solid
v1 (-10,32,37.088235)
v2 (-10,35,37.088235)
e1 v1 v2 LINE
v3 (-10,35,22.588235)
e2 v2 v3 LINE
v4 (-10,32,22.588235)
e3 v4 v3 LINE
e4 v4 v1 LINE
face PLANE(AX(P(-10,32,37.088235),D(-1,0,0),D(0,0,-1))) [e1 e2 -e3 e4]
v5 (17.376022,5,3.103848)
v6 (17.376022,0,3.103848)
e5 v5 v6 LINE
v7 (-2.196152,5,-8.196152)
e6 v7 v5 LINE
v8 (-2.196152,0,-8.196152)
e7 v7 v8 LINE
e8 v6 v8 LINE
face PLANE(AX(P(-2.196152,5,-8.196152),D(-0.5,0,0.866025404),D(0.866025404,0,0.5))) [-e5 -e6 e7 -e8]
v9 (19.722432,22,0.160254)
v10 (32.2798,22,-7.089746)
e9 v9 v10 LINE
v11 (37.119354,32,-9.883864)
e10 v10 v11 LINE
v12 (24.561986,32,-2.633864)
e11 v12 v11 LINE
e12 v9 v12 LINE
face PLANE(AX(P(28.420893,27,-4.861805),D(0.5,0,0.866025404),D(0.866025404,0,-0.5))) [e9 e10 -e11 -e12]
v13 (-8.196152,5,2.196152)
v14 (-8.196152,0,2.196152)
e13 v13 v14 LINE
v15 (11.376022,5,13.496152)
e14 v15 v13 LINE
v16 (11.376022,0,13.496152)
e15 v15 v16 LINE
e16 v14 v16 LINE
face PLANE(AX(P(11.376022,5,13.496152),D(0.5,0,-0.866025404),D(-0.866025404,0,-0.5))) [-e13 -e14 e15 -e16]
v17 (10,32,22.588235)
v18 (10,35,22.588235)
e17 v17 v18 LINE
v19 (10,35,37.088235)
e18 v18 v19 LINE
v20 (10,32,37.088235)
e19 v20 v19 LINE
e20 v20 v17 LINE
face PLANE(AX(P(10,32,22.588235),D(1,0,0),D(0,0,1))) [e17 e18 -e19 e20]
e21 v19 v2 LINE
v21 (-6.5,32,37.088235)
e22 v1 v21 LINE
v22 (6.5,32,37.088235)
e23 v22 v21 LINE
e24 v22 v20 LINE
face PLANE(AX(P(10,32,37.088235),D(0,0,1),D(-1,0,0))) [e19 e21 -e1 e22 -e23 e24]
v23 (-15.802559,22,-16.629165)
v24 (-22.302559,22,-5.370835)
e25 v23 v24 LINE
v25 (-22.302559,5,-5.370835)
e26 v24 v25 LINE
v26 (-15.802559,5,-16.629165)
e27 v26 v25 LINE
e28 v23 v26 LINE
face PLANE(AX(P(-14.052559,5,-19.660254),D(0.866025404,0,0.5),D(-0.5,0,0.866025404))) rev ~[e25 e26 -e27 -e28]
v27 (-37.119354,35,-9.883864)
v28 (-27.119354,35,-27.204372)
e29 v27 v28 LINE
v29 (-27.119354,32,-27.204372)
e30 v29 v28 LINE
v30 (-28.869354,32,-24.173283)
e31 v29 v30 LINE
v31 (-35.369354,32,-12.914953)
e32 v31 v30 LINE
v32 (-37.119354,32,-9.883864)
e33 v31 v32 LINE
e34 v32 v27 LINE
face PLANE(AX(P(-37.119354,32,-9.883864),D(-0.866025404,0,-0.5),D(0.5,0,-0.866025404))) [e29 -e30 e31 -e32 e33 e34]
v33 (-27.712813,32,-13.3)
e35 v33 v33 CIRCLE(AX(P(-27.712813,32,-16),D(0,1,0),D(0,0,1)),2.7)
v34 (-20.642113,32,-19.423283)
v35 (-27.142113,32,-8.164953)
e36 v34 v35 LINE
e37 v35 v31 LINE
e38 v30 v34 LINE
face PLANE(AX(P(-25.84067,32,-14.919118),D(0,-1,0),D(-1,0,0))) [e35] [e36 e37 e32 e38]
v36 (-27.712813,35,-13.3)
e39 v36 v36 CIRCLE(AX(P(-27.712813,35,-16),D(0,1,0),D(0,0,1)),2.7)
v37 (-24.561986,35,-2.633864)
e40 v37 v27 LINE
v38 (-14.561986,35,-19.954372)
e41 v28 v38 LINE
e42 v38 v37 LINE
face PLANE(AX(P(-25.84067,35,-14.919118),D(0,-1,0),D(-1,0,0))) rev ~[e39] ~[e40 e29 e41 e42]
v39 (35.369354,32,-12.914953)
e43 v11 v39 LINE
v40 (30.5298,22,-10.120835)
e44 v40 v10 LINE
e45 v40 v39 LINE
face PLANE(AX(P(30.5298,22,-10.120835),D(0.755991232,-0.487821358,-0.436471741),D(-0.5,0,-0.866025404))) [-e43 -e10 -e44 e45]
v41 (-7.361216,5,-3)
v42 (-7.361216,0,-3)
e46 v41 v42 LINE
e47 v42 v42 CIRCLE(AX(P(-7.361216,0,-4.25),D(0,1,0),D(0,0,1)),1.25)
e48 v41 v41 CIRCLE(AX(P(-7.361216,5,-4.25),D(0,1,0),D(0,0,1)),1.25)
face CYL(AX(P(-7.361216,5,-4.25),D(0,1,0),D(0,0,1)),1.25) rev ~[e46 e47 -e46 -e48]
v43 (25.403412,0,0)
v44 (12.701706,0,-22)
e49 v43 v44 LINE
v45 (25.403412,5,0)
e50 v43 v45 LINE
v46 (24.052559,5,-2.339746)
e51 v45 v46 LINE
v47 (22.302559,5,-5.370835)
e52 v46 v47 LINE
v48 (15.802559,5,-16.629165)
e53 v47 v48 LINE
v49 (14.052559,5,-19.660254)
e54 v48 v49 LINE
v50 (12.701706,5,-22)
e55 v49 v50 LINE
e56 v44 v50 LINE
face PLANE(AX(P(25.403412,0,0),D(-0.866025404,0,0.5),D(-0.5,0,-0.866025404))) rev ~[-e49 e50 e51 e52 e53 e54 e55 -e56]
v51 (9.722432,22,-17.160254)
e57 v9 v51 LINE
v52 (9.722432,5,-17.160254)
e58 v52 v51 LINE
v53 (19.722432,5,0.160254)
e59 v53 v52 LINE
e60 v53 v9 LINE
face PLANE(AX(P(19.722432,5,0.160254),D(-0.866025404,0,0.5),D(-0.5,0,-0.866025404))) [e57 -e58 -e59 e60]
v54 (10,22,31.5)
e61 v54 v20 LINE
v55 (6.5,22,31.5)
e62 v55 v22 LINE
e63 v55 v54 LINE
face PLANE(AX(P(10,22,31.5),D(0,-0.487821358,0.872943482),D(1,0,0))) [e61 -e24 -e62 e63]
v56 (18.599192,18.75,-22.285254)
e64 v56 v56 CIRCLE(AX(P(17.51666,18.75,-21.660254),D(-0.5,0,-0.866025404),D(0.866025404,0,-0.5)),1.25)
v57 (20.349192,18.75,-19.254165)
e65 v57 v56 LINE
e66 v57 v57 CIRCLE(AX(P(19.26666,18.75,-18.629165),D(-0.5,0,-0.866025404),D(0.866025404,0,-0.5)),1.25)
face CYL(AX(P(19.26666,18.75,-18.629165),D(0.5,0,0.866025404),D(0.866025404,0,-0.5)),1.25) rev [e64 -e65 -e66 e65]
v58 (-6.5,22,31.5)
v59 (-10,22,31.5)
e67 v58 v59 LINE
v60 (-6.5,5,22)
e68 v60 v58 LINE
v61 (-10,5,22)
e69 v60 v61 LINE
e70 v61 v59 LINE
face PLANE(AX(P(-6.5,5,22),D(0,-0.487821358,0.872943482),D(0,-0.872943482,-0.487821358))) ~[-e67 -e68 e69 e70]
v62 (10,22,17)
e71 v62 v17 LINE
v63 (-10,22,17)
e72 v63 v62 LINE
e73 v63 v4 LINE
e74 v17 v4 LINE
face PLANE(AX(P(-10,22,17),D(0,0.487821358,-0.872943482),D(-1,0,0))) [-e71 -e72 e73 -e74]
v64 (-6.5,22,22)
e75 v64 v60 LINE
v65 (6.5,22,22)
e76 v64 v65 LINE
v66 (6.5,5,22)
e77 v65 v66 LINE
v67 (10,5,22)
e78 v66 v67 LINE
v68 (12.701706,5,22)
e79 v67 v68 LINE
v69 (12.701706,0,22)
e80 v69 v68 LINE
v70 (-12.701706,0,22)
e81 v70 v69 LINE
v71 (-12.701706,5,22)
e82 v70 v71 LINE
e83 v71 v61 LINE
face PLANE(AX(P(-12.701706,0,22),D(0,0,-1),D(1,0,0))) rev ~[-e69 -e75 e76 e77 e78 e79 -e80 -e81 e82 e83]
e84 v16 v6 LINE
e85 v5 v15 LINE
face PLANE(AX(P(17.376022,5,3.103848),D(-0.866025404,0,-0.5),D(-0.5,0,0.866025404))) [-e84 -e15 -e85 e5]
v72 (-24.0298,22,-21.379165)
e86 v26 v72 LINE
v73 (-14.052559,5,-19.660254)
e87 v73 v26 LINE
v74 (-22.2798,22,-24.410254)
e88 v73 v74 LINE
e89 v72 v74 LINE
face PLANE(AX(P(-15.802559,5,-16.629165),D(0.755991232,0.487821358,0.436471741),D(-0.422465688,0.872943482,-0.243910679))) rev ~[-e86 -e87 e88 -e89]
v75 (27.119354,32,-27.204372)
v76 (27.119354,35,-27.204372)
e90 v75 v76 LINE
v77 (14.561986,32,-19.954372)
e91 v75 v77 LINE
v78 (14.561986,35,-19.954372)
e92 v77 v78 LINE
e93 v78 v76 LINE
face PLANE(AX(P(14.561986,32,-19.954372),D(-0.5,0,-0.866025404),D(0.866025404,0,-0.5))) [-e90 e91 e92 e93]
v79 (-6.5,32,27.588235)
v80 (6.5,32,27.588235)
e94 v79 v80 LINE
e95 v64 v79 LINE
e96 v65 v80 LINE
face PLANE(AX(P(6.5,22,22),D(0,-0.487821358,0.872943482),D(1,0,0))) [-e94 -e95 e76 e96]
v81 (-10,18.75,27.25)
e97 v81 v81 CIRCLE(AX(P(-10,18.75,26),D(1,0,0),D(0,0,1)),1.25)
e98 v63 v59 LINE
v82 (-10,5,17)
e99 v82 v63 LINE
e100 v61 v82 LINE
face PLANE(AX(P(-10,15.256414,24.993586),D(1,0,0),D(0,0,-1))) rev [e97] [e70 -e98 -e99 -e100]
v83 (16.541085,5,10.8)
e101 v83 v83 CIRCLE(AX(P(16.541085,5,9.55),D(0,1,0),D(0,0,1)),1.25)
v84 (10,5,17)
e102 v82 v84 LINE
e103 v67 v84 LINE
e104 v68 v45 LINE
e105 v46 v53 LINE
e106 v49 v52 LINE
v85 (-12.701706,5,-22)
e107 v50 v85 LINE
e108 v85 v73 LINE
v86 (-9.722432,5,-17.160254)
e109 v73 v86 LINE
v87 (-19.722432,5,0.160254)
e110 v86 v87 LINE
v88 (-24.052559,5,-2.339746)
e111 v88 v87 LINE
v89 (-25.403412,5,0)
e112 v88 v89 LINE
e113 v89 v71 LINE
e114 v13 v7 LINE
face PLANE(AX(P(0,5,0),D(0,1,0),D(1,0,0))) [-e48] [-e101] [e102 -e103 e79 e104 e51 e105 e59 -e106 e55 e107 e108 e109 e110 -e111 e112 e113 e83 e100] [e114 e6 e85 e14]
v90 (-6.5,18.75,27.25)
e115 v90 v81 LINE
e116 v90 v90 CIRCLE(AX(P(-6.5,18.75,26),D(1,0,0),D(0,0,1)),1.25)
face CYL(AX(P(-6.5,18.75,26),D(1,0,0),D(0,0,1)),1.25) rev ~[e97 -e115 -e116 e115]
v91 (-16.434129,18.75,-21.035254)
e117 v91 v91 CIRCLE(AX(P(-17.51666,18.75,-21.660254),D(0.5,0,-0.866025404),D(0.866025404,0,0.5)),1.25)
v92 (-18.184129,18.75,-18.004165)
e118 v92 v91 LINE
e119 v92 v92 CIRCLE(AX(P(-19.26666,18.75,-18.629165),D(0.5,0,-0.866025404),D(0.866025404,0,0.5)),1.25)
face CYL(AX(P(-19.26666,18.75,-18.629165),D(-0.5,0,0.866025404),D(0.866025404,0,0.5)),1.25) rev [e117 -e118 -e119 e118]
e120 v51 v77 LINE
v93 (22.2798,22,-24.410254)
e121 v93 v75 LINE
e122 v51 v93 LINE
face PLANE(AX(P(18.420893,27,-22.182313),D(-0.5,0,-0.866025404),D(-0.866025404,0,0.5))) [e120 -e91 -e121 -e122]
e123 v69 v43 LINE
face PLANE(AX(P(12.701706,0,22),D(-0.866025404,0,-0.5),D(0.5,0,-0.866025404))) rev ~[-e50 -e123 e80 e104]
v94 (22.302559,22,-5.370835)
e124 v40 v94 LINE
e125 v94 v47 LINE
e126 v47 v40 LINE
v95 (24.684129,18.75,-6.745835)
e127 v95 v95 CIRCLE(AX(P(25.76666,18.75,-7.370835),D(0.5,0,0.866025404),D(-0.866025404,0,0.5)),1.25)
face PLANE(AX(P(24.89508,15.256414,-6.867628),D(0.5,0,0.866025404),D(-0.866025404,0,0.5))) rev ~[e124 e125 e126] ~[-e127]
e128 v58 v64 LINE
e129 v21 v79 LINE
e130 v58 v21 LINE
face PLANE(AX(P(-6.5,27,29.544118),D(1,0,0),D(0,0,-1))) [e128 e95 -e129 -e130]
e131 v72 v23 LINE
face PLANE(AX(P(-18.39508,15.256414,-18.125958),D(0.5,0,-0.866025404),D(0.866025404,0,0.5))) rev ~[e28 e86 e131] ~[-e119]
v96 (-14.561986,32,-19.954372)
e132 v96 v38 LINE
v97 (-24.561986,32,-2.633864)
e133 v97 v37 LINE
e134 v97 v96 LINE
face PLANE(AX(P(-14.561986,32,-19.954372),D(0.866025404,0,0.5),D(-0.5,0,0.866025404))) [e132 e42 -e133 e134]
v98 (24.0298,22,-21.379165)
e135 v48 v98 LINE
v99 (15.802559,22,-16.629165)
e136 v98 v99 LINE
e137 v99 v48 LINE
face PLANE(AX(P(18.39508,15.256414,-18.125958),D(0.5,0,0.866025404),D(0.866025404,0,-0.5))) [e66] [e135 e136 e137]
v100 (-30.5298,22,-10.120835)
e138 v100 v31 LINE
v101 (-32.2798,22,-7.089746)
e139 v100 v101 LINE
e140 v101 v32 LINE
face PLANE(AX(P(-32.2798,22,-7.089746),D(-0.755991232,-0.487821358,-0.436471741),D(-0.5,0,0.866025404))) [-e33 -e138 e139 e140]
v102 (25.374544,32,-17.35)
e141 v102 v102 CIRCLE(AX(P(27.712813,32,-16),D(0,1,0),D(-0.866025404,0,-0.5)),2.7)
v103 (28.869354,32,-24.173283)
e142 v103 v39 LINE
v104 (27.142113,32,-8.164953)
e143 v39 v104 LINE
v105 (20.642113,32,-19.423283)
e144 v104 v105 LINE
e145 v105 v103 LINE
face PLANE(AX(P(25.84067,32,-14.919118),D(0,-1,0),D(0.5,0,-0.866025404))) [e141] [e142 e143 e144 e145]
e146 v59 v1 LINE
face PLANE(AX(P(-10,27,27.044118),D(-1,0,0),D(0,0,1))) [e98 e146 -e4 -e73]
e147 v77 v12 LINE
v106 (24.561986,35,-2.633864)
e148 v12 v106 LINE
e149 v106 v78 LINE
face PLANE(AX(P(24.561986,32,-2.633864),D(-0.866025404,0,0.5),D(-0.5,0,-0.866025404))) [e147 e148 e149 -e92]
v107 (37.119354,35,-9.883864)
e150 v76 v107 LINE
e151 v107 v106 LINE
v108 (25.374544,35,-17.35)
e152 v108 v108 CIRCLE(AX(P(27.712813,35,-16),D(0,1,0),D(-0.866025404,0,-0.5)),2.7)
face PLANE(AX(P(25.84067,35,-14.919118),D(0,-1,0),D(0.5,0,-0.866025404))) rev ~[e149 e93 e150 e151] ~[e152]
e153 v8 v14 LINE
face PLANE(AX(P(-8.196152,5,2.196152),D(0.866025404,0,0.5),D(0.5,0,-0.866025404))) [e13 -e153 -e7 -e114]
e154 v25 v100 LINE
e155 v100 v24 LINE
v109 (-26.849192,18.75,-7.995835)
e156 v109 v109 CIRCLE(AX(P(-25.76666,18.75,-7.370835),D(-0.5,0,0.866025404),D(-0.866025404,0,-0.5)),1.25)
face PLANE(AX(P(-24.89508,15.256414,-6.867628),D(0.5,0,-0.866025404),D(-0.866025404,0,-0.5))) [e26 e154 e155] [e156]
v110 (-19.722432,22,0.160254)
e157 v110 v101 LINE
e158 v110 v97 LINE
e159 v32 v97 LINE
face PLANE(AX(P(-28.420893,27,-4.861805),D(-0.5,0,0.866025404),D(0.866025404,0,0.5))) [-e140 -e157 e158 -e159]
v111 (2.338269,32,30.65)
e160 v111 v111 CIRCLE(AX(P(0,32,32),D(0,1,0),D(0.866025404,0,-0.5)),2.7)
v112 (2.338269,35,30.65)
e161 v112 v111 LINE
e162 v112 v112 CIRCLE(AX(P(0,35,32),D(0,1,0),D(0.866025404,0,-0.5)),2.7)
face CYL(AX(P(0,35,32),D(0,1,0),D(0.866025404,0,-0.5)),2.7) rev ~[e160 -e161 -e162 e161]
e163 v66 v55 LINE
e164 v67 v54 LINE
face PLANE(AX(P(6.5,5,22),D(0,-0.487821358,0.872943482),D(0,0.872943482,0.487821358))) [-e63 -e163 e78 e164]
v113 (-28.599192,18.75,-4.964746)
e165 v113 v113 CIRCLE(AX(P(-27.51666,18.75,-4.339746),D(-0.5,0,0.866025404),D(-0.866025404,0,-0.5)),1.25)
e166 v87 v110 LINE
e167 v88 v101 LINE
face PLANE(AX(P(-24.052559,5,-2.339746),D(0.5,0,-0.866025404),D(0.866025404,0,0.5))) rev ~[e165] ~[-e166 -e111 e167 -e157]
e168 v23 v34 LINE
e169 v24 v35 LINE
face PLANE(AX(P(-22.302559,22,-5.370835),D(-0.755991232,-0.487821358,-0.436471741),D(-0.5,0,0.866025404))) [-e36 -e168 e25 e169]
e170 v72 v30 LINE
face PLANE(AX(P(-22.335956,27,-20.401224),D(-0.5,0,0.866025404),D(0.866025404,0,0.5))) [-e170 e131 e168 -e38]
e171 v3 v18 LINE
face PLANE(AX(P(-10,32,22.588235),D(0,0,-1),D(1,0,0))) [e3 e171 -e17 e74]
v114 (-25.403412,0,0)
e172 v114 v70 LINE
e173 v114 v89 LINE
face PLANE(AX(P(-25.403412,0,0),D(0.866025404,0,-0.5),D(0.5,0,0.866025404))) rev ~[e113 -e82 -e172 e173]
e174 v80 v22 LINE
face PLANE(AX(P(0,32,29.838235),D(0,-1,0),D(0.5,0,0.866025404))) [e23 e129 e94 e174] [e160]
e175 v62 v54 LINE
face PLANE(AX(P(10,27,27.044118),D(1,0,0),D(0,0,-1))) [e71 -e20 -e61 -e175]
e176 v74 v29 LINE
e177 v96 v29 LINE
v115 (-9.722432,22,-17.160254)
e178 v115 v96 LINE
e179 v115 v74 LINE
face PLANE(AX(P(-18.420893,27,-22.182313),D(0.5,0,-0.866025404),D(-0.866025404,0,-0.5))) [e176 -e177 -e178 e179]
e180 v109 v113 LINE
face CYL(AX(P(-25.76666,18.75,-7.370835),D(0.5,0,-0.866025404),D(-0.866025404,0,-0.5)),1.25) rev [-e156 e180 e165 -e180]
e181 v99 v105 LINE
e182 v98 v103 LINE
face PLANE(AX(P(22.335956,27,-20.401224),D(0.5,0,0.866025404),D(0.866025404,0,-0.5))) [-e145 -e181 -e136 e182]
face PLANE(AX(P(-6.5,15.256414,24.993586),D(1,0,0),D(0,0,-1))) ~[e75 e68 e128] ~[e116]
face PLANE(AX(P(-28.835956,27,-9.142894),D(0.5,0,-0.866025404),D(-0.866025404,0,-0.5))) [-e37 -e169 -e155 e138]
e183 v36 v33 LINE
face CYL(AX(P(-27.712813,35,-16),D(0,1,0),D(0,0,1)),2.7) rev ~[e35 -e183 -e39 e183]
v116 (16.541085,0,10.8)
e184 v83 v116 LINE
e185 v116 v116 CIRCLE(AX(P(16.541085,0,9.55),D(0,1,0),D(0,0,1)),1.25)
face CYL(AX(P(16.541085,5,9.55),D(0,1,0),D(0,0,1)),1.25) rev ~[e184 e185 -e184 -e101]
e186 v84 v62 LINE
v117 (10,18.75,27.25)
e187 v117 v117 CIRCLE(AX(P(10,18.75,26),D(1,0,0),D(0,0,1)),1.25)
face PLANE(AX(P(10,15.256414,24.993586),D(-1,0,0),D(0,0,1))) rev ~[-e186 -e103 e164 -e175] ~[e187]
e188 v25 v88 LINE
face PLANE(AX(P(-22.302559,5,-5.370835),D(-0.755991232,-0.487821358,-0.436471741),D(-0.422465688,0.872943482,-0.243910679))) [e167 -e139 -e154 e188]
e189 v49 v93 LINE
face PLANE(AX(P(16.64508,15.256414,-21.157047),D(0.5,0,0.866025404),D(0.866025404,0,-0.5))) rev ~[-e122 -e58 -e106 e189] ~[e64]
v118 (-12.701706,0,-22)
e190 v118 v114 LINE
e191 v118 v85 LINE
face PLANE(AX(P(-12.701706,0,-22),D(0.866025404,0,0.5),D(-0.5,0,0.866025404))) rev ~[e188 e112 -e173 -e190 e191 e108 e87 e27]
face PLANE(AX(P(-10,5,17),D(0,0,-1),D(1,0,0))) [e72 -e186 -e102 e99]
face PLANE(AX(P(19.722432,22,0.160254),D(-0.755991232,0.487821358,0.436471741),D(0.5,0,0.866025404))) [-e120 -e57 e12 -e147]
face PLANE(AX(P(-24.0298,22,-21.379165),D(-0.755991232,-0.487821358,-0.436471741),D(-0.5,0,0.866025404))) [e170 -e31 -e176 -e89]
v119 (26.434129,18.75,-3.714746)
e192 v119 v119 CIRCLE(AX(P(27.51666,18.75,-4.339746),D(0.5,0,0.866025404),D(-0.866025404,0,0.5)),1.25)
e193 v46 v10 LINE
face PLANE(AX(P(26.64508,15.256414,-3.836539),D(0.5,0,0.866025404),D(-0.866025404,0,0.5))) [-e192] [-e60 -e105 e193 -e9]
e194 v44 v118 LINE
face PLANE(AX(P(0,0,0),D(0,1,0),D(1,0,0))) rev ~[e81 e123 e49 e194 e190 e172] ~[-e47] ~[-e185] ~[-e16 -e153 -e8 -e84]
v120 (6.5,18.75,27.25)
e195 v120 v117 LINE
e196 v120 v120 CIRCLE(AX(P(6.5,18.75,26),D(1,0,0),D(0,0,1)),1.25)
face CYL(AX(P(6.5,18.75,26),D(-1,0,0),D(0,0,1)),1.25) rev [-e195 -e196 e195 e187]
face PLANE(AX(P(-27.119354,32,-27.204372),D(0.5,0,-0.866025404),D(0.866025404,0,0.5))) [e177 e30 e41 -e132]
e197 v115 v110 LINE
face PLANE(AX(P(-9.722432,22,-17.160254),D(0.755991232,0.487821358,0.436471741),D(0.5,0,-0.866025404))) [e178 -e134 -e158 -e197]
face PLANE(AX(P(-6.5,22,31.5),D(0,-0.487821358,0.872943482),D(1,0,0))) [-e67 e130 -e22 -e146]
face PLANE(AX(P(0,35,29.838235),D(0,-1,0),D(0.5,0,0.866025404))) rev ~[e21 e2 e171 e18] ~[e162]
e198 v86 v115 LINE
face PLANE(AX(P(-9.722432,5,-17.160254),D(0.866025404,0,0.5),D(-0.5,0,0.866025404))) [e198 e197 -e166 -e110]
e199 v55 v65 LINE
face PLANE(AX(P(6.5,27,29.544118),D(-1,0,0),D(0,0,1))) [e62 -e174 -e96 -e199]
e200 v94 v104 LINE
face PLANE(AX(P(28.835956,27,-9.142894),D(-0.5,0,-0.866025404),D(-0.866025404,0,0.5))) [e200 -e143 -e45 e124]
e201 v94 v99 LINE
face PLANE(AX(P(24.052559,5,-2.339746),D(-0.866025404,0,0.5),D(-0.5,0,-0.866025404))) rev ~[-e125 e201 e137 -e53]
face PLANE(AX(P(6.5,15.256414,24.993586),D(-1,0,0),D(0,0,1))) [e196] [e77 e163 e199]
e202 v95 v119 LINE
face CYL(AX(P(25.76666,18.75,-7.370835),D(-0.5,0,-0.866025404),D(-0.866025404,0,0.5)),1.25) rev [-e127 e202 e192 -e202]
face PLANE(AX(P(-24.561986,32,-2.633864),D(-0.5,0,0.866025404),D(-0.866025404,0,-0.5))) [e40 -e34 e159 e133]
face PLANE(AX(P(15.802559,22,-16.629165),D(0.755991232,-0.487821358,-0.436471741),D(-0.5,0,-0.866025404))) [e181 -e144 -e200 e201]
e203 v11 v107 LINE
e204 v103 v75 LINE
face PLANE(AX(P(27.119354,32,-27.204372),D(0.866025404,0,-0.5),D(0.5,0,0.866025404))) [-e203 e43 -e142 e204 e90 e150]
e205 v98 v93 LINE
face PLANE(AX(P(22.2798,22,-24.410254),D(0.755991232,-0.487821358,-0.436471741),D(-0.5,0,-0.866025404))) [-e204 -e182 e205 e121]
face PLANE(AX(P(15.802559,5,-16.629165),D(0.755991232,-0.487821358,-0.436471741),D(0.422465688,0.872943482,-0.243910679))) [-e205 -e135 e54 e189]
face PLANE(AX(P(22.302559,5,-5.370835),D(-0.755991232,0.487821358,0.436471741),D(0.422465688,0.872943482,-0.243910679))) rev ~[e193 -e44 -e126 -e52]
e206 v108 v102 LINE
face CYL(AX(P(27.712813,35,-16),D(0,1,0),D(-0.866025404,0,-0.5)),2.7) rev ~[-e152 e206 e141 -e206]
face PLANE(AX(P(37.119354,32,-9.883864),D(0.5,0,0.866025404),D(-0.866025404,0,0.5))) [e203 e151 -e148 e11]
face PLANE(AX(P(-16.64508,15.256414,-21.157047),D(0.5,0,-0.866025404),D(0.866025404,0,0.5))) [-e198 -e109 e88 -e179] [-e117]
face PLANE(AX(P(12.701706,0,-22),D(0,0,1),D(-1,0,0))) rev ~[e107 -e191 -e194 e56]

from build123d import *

# Parameters (mm, degrees)
BOSS_EXTRUDE1_DEPTH         = 5
SKETCH4_W                   = 20
SKETCH4_H                   = 5
BOSS_EXTRUDE3_DEPTH         = 17
BOSS_EXTRUDE2_START         = 6.5
SKETCH2_R                   = 1.25
BOSS_EXTRUDE2_DEPTH         = 3.5
CIRPATTERN1_COUNT           = 3
CIRPATTERN1_COPY_1_SKETCH_W = 20
CIRPATTERN1_COPY_1_SKETCH_H = 5
CIRPATTERN1_COPY_1_DEPTH    = 17
CIRPATTERN1_COPY_2_SKETCH_W = 20
CIRPATTERN1_COPY_2_SKETCH_H = 5
CIRPATTERN1_COPY_2_DEPTH    = 17
CIRPATTERN1_START           = 6.5
CIRPATTERN1_COPY_3_SKETCH_R = 1.25
CIRPATTERN1_COPY_3_DEPTH    = 3.5
CIRPATTERN1_COPY_4_SKETCH_R = 1.25
CIRPATTERN1_COPY_4_DEPTH    = 3.5
CUT_EXTRUDE1_REACH          = 50.2
CUT_EXTRUDE2_REACH          = 50.2
SKETCH6_R                   = 1.25
BOSS_EXTRUDE4_DEPTH         = 3
CUT_EXTRUDE3_REACH          = 61.959
SKETCH13_R                  = 2.7
CIRPATTERN2_COUNT           = 3


with BuildPart() as part:
    # Sketch1 → Boss-Extrude1 (new body)
    with BuildSketch(Plane(origin=(0, 0, 0), x_dir=(1, 0, 0), z_dir=(0, 1, 0))):
        Polygon((25.403411844, 0), (12.701705922, 22), (-12.701705922, 22), (-25.403411844, 0), (-12.701705922, -22), (12.701705922, -22), align=None)
    extrude(amount=BOSS_EXTRUDE1_DEPTH)

    # Sketch4 → Boss-Extrude3 (add)
    with BuildSketch(Plane(origin=(0, 5, 0), x_dir=(1, 0, 0), z_dir=(0, 1, 0))):
        with Locations((0, -19.5)):
            Rectangle(SKETCH4_W, SKETCH4_H)
    boss_extrude3 = extrude(amount=BOSS_EXTRUDE3_DEPTH)

    # Sketch2 → Boss-Extrude2 (add)
    with BuildSketch(Plane(origin=(0, 0, 0), x_dir=(0, 0, -1), z_dir=(1, 0, 0)).offset(BOSS_EXTRUDE2_START)):
        Polygon((-22, 22), (-22, 5), (-31.5, 22), align=None)
        with Locations(Location((-26, 18.75, 0), (0, 0, 180))):
            Circle(SKETCH2_R, mode=Mode.SUBTRACT)
    boss_extrude2 = extrude(amount=BOSS_EXTRUDE2_DEPTH)

    # Mirror1: Boss-Extrude3, Boss-Extrude2 across plane
    add(boss_extrude3.mirror(Plane(origin=(0, 0, 0), x_dir=(0, 0, 1), z_dir=(1, 0, 0))))
    add(boss_extrude2.mirror(Plane(origin=(0, 0, 0), x_dir=(0, 0, 1), z_dir=(1, 0, 0))))

    # CirPattern1: Boss-Extrude3, Boss-Extrude2 ×3 about axis
    cirpattern1_axis = Axis((0, 0, 0), (0, 1, 0))
    add([boss_extrude3.rotate(cirpattern1_axis, i * 360 / CIRPATTERN1_COUNT) for i in range(1, CIRPATTERN1_COUNT)])
    add([boss_extrude2.rotate(cirpattern1_axis, i * 360 / CIRPATTERN1_COUNT) for i in range(1, CIRPATTERN1_COUNT)])

    # CirPattern1 copy 1 sketch → CirPattern1 copy 1 (add)
    with BuildSketch(Plane(origin=(0, 5, 0), x_dir=(0.4999999999999998, 0, 0.8660254037844387), z_dir=(0, 1, 0))):
        with Locations((0, 19.5)):
            Rectangle(CIRPATTERN1_COPY_1_SKETCH_W, CIRPATTERN1_COPY_1_SKETCH_H)
    extrude(amount=CIRPATTERN1_COPY_1_DEPTH)

    # CirPattern1 copy 2 sketch → CirPattern1 copy 2 (add)
    with BuildSketch(Plane(origin=(0, 5, 0), x_dir=(0.5000000000000004, 0, -0.8660254037844384), z_dir=(0, 1, 0))):
        with Locations((0, 19.5)):
            Rectangle(CIRPATTERN1_COPY_2_SKETCH_W, CIRPATTERN1_COPY_2_SKETCH_H)
    extrude(amount=CIRPATTERN1_COPY_2_DEPTH)

    # CirPattern1 copy 3 sketch → CirPattern1 copy 3 (add)
    with BuildSketch(Plane(origin=(0, 0, 0), x_dir=(-0.8660254037844387, 0, 0.4999999999999998), z_dir=(0.4999999999999998, 0, 0.8660254037844387)).offset(CIRPATTERN1_START)):
        Polygon((-22, -22), (-22, -5), (-31.5, -22), align=None)
        with Locations((-26, -18.75)):
            Circle(CIRPATTERN1_COPY_3_SKETCH_R, mode=Mode.SUBTRACT)
    extrude(amount=CIRPATTERN1_COPY_3_DEPTH)

    # CirPattern1 copy 4 sketch → CirPattern1 copy 4 (add)
    with BuildSketch(Plane(origin=(0, 0, 0), x_dir=(0.8660254037844384, 0, 0.5000000000000004), z_dir=(0.5000000000000004, 0, -0.8660254037844384)).offset(CIRPATTERN1_START)):
        Polygon((-22, -22), (-22, -5), (-31.5, -22), align=None)
        with Locations((-26, -18.75)):
            Circle(CIRPATTERN1_COPY_4_SKETCH_R, mode=Mode.SUBTRACT)
    extrude(amount=CIRPATTERN1_COPY_4_DEPTH)

    # Sketch3 → Cut-Extrude1 (cut, up to next)
    with BuildSketch(Plane(origin=(0, 5, 0), x_dir=(1, 0, 0), z_dir=(0, 1, 0)), mode=Mode.PRIVATE) as cut_extrude1_sk1:
        Polygon((-2.196152423, 8.196152423), (17.376021703, -3.103847577), (11.376021703, -13.496152423), (-8.196152423, -2.196152423), align=None)
    cut_extrude1_tool1 = extrude(cut_extrude1_sk1.sketch, amount=-CUT_EXTRUDE1_REACH, mode=Mode.PRIVATE) & part.part
    add(cut_extrude1_tool1.solids().sort_by_distance((4.589935, 5, 2.65))[0], mode=Mode.SUBTRACT)

    # Sketch6 → Cut-Extrude2 (cut, up to next)
    with BuildSketch(Plane(origin=(0, 5, 0), x_dir=(1, 0, 0), z_dir=(0, 1, 0)), mode=Mode.PRIVATE) as cut_extrude2_sk1:
        with Locations(Location((-7.361215932, 4.25, 0), (0, 0, 270))):
            Circle(SKETCH6_R)
    cut_extrude2_tool1 = extrude(cut_extrude2_sk1.sketch, amount=-CUT_EXTRUDE2_REACH, mode=Mode.PRIVATE) & part.part
    # Sketch6 → Cut-Extrude2 (cut, up to next)
    with BuildSketch(Plane(origin=(0, 5, 0), x_dir=(1, 0, 0), z_dir=(0, 1, 0)), mode=Mode.PRIVATE) as cut_extrude2_sk2:
        with Locations(Location((16.541085212, -9.55, 0), (0, 0, 270))):
            Circle(SKETCH6_R)
    cut_extrude2_tool2 = extrude(cut_extrude2_sk2.sketch, amount=-CUT_EXTRUDE2_REACH, mode=Mode.PRIVATE) & part.part
    add(cut_extrude2_tool1.solids().sort_by_distance((-7.361216, 5, -4.25))[0], mode=Mode.SUBTRACT)
    add(cut_extrude2_tool2.solids().sort_by_distance((16.541085, 5, 9.55))[0], mode=Mode.SUBTRACT)

    # Sweep1: sweep along a path in Sketch11
    with BuildLine(Plane(origin=(-5, 0, 8.660254038), x_dir=(0.8660254037844364, 0, 0.5000000000000041), z_dir=(-0.500000000000004, 0, 0.8660254037844363))) as sweep1_path:
        Line((-31.5, 22), (-37.088235294, 32))
    # Sketch10 → Sweep1 (sweep)
    with BuildSketch(Plane(origin=(0, 22, 0), x_dir=(1, 0, 0), z_dir=(0, 1, 0))):
        Polygon((-22.279800219, 24.410254038), (-9.722431864, 17.160254038), (-19.722431864, -0.160254038), (-32.279800219, 7.089745962), (-30.529800219, 10.120834875), (-22.302558883, 5.370834875), (-15.802558883, 16.629165125), (-24.029800219, 21.379165125), align=None)
    sweep1 = sweep(path=sweep1_path.line)

    # Sketch12 → Boss-Extrude4 (add)
    with BuildSketch(Plane(origin=(0, 32, 0), x_dir=(1, 0, 0), z_dir=(0, 1, 0))):
        Polygon((-27.119353946, 27.204371685), (-14.561985591, 19.954371685), (-24.561985591, 2.633863609), (-37.119353946, 9.883863609), align=None)
    boss_extrude4 = extrude(amount=BOSS_EXTRUDE4_DEPTH)

    # Sketch13 → Cut-Extrude3 (cut, up to next)
    with BuildSketch(Plane(origin=(0, 35, 0), x_dir=(1, 0, 0), z_dir=(0, 1, 0)), mode=Mode.PRIVATE) as cut_extrude3_sk1:
        with Locations(Location((-27.712812921, 16, 0), (0, 0, 270))):
            Circle(SKETCH13_R)
    cut_extrude3_tool1 = extrude(cut_extrude3_sk1.sketch, amount=-CUT_EXTRUDE3_REACH, mode=Mode.PRIVATE) & part.part
    cut_extrude3 = cut_extrude3_tool1.solids().sort_by_distance((-27.712813, 35, -16))[0]
    add(cut_extrude3, mode=Mode.SUBTRACT)

    # CirPattern2: Sweep1, Boss-Extrude4, Cut-Extrude3 ×3 about axis
    cirpattern2_axis = Axis((0, 0, 0), (0, 1, 0))
    add([sweep1.rotate(cirpattern2_axis, i * 360 / CIRPATTERN2_COUNT) for i in range(1, CIRPATTERN2_COUNT)])
    add([boss_extrude4.rotate(cirpattern2_axis, i * 360 / CIRPATTERN2_COUNT) for i in range(1, CIRPATTERN2_COUNT)])
    add([cut_extrude3.rotate(cirpattern2_axis, i * 360 / CIRPATTERN2_COUNT) for i in range(1, CIRPATTERN2_COUNT)], mode=Mode.SUBTRACT)


solid = part.part
